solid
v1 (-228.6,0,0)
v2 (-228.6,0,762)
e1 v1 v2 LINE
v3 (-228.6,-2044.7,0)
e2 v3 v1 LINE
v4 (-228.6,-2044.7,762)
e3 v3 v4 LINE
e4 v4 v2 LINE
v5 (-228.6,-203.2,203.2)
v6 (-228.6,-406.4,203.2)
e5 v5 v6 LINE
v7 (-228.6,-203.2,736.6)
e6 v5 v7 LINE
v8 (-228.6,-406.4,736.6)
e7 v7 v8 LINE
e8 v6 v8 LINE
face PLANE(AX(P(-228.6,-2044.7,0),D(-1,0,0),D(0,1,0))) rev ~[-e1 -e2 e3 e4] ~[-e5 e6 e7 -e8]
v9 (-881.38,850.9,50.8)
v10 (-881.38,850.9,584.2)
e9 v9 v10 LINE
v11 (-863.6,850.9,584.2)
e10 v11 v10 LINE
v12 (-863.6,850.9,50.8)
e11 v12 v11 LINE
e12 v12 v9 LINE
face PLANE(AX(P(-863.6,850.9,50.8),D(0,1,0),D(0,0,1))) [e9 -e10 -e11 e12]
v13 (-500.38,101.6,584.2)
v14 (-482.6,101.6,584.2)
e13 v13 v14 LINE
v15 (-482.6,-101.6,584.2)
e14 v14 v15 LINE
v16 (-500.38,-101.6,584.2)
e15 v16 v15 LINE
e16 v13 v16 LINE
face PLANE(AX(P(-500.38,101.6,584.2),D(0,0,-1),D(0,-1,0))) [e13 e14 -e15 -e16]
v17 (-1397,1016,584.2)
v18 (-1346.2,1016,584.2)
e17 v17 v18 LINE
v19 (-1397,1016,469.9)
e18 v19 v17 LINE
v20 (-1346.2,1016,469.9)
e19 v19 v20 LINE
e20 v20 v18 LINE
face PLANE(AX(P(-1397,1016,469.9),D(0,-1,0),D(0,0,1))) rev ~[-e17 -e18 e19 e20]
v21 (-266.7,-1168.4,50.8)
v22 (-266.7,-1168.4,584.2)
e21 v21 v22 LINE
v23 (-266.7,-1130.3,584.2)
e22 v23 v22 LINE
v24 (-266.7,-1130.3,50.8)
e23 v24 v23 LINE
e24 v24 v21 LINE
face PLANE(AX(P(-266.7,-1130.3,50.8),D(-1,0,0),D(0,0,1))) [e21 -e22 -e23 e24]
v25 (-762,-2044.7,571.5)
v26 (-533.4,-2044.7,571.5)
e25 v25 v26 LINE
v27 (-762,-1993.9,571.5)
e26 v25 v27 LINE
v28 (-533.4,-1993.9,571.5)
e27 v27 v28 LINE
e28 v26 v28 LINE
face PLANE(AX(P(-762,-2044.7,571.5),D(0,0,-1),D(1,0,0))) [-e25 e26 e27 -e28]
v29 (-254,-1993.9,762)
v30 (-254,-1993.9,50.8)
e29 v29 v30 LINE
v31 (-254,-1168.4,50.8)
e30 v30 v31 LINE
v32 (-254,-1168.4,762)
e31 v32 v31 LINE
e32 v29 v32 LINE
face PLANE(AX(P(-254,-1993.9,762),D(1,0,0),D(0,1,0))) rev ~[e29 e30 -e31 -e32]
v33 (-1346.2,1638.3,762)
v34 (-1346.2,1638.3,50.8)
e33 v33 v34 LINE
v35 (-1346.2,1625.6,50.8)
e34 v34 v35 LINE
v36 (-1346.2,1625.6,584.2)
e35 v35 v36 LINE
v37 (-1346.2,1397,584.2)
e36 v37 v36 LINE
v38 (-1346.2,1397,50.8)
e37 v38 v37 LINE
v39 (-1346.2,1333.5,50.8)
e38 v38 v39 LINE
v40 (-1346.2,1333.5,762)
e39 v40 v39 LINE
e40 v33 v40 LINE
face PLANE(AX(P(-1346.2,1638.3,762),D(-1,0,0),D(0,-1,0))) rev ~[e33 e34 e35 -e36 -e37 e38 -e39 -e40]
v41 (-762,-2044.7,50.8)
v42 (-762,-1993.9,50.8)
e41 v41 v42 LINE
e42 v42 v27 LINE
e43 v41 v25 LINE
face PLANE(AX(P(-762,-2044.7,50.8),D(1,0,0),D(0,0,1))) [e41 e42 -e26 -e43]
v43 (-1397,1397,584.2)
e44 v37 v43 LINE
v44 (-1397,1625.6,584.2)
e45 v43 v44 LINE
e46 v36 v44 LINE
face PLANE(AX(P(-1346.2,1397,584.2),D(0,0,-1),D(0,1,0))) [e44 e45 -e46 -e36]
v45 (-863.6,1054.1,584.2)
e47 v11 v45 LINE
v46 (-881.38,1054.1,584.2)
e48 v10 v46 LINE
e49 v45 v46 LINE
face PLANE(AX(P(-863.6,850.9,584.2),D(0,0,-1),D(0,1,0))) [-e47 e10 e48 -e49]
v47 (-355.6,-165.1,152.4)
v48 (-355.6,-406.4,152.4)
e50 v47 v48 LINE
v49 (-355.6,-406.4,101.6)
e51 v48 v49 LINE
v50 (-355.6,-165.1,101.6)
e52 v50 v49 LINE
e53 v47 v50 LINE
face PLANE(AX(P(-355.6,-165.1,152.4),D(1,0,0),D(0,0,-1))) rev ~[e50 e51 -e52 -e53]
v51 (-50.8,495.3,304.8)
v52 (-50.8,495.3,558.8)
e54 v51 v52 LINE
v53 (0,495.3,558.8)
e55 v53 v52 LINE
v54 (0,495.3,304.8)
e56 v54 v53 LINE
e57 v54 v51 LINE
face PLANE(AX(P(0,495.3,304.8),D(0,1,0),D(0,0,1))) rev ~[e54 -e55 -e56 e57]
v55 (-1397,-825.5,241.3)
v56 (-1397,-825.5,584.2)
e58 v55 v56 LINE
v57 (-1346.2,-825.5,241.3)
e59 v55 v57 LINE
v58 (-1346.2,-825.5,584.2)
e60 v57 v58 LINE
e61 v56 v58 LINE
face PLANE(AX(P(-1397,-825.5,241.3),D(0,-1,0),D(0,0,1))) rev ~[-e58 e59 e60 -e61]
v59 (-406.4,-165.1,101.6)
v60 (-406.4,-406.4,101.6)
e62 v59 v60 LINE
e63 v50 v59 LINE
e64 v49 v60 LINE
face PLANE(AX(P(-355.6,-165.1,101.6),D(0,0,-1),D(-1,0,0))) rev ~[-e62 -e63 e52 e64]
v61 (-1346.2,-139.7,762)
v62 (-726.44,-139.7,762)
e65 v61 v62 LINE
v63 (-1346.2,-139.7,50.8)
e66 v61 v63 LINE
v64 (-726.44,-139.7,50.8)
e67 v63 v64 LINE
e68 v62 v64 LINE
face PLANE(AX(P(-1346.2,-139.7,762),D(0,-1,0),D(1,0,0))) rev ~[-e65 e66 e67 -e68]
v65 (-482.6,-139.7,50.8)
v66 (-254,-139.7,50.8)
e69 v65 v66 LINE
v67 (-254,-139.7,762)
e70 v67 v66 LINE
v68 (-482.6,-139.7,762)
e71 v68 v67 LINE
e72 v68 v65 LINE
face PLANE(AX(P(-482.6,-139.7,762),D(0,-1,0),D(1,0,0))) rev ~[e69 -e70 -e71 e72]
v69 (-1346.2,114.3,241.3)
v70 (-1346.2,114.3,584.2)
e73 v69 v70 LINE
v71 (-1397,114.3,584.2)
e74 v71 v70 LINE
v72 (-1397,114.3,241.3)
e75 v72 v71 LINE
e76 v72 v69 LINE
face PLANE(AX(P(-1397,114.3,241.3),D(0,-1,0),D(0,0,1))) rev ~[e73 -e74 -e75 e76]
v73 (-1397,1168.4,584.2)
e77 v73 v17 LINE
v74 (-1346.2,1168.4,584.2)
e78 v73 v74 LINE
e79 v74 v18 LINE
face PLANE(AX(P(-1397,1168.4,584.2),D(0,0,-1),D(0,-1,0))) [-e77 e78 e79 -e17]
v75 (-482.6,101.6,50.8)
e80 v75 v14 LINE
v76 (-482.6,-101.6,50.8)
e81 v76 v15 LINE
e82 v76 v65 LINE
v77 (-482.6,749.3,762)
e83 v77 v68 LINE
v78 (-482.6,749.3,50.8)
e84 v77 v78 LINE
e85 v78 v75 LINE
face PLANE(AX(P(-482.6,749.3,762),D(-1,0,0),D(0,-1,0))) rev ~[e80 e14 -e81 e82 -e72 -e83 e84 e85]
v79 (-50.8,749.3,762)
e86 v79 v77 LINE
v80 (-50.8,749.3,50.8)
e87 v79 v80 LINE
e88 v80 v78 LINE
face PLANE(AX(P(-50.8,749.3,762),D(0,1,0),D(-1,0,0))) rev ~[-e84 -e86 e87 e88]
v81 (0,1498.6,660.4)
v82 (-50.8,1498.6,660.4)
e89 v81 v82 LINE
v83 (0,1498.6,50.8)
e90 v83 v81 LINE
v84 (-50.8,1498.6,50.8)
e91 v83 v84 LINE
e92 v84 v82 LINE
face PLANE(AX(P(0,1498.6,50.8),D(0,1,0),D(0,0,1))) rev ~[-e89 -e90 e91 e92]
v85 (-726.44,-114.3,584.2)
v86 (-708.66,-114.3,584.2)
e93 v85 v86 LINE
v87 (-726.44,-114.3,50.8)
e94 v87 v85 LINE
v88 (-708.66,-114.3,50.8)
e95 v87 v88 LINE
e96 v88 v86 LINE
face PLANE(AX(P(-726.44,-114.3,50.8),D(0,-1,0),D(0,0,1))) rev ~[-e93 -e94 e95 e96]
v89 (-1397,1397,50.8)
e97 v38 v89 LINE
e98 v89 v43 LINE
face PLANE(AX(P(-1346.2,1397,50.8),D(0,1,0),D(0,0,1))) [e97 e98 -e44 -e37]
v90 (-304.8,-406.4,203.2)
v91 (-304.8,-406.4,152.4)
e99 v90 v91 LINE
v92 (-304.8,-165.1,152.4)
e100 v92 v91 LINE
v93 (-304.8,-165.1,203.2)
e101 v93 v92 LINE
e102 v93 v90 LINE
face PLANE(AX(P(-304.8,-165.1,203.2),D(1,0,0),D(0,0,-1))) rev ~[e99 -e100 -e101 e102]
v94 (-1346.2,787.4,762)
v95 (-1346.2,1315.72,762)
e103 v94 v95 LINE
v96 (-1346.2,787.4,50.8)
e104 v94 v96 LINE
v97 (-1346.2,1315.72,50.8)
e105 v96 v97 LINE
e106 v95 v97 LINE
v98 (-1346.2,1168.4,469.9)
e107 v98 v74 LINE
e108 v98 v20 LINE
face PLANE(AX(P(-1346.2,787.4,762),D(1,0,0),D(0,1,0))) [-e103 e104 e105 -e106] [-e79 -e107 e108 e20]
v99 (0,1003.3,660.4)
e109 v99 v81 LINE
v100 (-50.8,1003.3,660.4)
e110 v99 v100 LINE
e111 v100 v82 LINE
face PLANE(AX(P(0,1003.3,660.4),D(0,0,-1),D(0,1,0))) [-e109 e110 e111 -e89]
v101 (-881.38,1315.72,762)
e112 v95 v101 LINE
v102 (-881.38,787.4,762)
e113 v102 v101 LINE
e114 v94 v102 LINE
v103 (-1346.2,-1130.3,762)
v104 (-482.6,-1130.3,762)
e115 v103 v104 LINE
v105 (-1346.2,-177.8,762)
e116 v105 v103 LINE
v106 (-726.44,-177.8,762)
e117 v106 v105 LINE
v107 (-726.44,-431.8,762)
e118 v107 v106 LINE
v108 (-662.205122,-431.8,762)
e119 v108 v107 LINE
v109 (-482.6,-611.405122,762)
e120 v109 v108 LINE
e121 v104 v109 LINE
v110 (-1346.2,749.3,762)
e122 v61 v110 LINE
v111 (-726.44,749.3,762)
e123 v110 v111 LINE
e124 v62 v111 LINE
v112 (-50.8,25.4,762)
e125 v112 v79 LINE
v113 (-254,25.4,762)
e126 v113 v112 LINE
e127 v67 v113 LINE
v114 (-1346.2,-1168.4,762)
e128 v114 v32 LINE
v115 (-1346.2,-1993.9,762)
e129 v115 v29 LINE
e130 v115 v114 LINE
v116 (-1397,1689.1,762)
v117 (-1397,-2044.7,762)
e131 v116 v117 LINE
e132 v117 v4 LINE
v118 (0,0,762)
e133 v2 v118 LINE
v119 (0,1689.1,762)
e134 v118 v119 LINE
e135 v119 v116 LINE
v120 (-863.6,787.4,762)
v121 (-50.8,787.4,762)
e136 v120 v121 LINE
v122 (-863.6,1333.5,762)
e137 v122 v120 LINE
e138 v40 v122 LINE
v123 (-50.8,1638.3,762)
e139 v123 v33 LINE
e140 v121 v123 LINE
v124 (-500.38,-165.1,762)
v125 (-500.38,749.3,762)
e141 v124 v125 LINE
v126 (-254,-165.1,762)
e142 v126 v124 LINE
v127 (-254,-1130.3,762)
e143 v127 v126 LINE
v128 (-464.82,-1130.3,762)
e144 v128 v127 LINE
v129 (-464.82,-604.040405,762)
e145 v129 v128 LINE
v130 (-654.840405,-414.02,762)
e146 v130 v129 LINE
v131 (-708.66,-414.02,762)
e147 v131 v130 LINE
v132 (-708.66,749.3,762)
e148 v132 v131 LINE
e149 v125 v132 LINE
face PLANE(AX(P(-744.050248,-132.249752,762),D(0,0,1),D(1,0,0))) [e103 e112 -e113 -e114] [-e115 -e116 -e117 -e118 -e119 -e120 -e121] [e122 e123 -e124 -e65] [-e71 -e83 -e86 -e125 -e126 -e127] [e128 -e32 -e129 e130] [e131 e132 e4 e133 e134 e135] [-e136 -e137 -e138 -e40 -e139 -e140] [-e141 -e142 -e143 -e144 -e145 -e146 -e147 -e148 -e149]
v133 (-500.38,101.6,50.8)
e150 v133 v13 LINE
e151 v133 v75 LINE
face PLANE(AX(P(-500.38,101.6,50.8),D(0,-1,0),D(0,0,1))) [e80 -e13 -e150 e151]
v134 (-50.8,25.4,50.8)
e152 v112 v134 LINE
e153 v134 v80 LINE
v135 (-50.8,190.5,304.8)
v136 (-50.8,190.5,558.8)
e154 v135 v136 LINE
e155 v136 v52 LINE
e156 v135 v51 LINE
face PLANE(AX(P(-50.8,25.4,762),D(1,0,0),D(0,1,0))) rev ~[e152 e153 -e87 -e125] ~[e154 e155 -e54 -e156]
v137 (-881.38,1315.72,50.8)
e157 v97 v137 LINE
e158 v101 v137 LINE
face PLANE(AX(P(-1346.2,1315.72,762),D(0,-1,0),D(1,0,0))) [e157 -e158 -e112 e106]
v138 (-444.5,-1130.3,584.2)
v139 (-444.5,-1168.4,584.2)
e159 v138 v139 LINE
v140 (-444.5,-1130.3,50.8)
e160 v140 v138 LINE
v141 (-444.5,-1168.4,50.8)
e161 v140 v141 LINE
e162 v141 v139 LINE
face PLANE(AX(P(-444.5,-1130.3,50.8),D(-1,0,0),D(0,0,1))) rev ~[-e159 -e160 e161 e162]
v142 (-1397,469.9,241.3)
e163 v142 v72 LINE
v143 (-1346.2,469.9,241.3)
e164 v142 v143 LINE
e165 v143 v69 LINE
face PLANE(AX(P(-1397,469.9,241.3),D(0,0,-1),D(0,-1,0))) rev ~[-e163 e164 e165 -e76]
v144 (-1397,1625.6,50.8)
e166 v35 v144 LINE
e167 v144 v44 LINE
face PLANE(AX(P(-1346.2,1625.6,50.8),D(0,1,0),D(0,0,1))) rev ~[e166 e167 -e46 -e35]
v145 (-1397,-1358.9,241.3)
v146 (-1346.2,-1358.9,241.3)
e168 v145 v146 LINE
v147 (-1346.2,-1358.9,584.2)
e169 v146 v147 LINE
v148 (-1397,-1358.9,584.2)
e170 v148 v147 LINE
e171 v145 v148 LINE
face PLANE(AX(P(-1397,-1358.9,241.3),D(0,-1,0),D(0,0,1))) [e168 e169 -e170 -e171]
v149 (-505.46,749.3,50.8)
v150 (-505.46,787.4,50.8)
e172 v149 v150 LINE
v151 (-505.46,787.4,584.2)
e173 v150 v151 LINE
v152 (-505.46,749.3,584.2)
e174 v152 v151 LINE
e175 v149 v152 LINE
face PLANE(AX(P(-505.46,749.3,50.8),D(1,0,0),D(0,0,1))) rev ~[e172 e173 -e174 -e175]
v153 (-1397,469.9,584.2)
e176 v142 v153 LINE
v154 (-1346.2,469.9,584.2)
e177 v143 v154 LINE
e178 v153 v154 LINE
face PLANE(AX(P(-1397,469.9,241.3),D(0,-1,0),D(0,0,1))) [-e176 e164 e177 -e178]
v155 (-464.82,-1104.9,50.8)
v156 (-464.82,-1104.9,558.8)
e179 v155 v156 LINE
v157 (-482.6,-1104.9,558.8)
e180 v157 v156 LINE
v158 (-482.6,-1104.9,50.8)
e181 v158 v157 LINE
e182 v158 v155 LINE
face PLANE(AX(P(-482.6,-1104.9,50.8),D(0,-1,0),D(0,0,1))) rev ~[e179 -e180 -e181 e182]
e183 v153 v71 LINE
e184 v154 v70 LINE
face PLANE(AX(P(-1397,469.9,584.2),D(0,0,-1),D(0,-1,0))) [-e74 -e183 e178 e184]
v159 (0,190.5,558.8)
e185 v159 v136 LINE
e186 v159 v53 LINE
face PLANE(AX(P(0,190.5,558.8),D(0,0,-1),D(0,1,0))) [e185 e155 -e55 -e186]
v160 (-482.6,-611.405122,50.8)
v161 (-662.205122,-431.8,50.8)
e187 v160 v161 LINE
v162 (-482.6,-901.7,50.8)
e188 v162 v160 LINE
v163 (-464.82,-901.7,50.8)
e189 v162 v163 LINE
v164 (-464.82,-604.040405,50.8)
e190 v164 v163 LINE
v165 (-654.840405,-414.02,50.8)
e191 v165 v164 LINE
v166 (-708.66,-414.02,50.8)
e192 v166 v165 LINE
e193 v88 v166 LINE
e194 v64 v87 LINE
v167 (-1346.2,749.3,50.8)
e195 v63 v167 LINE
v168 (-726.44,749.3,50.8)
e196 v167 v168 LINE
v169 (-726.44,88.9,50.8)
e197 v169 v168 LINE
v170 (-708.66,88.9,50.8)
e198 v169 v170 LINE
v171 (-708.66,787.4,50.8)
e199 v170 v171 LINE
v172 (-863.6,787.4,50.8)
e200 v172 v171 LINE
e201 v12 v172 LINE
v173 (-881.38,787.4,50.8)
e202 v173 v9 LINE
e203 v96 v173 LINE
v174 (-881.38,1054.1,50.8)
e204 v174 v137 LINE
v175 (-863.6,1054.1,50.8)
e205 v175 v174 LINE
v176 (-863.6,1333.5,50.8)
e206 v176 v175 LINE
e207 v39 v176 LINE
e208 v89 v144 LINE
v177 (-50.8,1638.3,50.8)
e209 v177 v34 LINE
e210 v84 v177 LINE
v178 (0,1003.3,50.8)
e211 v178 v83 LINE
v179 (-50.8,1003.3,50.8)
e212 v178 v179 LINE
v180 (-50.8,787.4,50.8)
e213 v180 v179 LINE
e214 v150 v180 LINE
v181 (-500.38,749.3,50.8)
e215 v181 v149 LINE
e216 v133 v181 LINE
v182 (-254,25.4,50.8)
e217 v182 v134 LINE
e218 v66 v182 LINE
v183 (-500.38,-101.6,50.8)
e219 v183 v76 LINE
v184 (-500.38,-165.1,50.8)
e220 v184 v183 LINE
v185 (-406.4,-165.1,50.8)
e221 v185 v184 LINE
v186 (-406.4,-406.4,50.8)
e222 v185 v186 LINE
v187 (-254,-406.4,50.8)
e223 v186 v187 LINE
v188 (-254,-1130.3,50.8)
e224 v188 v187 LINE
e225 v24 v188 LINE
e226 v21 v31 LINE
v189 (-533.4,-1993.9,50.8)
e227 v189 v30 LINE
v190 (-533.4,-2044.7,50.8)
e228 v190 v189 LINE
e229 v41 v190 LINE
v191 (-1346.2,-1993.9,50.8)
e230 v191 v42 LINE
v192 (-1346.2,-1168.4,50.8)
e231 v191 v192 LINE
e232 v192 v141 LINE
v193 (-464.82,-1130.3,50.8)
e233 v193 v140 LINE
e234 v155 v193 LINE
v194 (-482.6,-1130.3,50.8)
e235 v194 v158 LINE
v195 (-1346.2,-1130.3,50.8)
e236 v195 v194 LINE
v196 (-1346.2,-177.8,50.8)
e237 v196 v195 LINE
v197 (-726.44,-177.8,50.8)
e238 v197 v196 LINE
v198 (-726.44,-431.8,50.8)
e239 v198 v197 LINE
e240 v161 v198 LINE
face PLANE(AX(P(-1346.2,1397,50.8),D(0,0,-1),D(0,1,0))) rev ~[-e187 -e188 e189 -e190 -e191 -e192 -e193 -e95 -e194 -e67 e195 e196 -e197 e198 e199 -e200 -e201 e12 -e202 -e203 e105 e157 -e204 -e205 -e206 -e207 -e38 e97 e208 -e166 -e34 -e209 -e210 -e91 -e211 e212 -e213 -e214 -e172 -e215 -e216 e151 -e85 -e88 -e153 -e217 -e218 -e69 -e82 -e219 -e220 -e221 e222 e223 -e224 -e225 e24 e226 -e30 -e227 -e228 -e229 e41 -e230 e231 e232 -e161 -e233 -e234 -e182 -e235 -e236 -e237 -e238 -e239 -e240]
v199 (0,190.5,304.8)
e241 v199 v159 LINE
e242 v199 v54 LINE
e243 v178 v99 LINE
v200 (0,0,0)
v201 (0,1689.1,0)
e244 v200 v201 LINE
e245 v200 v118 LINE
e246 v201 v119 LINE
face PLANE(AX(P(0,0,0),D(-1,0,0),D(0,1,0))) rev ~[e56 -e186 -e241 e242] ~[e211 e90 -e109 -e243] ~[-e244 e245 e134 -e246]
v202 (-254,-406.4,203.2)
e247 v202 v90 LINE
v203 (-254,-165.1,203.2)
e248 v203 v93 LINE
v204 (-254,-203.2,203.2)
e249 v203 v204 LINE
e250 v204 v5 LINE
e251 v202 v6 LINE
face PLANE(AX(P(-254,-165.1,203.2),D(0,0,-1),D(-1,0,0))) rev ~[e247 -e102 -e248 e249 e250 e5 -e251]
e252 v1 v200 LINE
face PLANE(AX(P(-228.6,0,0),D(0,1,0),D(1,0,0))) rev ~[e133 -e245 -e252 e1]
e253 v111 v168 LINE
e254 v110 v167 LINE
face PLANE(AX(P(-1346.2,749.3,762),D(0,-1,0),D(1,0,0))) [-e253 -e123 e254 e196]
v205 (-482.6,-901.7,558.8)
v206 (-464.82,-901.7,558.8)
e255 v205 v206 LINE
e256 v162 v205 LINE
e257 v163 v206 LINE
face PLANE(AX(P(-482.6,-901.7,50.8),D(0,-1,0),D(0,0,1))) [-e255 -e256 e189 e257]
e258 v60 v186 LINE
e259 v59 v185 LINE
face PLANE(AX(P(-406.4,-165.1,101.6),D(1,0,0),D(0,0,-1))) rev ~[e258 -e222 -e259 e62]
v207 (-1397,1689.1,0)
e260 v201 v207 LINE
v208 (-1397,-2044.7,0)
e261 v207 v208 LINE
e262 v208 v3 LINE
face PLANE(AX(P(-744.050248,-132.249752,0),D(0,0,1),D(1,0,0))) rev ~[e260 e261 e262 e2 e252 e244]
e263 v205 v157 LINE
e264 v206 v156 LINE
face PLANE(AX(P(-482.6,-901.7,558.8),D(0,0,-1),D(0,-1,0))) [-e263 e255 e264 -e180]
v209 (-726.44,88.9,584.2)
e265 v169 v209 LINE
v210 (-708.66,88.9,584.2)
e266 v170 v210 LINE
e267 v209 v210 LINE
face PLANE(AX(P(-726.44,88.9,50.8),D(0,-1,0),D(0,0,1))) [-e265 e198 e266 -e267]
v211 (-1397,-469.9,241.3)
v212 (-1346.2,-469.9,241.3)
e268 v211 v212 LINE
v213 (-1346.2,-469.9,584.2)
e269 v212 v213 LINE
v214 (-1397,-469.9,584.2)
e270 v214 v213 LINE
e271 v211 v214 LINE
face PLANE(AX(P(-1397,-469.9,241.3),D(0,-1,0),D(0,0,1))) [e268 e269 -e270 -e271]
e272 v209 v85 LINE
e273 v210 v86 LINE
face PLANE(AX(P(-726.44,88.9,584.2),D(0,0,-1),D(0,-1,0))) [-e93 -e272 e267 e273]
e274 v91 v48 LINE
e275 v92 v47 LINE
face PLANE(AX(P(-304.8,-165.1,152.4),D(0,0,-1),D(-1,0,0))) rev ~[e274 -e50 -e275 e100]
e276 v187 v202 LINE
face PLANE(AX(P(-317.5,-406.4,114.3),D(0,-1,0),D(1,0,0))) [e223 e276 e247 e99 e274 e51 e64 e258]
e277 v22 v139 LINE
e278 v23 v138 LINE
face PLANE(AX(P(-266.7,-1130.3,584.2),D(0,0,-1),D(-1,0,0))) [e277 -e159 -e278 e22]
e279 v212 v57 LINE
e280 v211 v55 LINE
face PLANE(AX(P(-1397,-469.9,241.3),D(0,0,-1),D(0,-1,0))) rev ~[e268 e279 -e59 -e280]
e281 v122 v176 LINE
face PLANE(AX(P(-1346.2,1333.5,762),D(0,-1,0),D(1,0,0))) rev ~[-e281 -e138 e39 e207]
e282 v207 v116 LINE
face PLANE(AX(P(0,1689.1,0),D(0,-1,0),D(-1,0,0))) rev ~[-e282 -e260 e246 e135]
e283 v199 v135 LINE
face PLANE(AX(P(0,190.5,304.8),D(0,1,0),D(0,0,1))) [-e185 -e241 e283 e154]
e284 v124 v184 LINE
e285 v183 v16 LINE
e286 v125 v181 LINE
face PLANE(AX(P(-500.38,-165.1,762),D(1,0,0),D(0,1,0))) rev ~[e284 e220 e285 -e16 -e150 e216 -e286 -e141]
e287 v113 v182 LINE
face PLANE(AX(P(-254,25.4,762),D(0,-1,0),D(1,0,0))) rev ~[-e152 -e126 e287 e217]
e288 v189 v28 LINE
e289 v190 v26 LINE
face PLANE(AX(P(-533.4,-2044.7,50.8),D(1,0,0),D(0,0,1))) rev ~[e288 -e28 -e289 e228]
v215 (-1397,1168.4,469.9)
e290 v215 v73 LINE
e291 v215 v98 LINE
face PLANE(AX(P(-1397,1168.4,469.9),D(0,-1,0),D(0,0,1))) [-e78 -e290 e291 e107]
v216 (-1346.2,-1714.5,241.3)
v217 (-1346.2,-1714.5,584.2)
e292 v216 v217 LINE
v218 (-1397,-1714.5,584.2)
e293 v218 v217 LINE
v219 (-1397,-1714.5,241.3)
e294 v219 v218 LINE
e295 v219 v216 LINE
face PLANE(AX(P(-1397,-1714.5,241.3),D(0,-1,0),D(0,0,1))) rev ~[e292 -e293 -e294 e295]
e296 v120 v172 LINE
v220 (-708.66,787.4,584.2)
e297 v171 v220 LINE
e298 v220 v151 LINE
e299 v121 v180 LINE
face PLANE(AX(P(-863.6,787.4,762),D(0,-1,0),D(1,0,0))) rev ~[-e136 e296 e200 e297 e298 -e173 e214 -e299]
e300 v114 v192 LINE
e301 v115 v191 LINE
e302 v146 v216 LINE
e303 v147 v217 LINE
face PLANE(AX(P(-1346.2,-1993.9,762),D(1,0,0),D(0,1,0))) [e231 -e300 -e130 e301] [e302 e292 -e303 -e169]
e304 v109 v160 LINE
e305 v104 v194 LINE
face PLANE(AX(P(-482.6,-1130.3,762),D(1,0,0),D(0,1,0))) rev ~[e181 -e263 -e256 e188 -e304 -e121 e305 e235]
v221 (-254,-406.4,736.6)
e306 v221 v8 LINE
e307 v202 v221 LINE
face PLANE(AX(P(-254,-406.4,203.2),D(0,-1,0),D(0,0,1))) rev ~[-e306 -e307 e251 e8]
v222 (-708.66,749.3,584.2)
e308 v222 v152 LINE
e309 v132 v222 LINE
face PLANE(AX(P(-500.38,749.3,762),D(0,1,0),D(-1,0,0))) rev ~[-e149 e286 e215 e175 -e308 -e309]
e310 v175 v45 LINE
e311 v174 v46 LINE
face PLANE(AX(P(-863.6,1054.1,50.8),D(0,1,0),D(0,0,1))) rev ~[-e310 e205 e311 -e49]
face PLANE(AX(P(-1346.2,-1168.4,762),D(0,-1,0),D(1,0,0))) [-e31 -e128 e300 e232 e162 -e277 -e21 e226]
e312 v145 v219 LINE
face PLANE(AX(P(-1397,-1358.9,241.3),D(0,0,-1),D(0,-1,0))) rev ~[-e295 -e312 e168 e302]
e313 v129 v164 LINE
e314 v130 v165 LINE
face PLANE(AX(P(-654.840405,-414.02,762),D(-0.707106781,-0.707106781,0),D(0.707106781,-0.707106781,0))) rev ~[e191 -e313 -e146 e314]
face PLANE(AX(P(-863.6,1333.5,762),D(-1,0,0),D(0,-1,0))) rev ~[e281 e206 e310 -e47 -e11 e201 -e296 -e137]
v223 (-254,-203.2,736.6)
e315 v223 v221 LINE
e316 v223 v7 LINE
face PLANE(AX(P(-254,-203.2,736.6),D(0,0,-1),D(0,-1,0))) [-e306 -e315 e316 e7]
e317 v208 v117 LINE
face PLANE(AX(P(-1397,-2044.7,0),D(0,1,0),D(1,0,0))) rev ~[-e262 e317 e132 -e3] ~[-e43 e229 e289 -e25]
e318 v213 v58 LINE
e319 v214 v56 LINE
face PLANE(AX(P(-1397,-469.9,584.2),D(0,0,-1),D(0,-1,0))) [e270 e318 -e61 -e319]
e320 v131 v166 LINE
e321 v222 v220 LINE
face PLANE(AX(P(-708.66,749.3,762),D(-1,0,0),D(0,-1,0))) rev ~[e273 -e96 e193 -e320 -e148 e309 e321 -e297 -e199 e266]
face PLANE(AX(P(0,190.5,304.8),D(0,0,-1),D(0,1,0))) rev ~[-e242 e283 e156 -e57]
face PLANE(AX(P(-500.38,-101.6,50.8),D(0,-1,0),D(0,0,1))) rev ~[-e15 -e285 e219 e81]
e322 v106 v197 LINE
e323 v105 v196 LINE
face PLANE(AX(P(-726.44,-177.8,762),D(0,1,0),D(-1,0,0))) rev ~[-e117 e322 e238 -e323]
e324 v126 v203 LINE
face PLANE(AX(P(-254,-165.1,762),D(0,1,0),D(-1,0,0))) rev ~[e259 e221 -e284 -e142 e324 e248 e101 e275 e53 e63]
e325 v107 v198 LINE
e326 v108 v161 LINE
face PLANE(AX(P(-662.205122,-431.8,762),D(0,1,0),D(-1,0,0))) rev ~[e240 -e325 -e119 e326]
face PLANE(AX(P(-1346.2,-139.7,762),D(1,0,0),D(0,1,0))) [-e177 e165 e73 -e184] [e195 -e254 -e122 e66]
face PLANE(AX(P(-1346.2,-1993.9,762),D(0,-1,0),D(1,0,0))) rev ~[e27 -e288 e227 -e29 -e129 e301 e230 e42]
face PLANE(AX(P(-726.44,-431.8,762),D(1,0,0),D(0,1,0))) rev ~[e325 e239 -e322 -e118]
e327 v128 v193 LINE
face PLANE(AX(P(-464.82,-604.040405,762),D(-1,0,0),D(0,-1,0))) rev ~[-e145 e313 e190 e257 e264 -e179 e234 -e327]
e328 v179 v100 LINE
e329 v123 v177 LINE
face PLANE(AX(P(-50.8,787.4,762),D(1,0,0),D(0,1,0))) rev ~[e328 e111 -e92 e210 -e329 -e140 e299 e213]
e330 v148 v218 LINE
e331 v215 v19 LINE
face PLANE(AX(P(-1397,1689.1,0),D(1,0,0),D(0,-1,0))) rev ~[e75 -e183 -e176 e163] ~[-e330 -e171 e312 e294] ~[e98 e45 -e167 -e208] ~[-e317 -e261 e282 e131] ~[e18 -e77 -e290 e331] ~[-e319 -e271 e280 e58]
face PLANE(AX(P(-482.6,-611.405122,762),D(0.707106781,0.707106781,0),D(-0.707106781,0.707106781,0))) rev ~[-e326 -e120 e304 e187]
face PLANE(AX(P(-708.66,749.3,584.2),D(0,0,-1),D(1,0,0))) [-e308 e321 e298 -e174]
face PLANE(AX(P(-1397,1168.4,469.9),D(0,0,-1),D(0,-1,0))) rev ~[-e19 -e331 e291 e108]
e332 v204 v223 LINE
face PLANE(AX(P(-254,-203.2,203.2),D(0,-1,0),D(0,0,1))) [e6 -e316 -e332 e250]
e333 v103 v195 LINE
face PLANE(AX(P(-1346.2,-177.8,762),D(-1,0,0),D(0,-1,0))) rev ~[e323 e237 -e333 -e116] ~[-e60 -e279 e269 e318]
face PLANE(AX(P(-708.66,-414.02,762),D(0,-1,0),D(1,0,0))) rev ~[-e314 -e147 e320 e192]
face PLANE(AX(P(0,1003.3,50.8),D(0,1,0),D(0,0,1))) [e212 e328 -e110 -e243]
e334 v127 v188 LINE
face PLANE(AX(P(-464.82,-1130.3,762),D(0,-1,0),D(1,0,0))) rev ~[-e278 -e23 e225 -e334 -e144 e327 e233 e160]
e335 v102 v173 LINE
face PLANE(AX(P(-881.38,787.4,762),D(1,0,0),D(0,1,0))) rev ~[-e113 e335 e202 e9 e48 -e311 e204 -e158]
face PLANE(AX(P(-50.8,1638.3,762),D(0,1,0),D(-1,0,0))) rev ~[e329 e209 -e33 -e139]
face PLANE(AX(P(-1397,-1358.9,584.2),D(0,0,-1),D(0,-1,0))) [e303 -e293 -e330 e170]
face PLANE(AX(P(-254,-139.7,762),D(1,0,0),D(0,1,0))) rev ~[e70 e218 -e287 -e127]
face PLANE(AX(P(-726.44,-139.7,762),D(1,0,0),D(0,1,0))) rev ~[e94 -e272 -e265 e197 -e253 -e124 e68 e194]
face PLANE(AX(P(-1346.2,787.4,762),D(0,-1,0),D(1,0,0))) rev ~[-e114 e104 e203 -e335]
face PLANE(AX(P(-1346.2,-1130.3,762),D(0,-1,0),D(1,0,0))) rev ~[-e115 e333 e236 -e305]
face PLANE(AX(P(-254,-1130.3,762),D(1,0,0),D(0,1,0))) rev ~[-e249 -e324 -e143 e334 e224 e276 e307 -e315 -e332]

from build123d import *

# Parameters (mm, degrees)
F1_DEPTH  = 762
F3_DEPTH  = 711.2
F4_W      = 464.82
F4_H      = 528.32
F5_DEPTH  = 711.2
F6_W      = 619.76
F6_H      = 889
F7_DEPTH  = 711.2
F8_W      = 1092.2
F8_H      = 825.5
F9_DEPTH  = 711.2
F11_DEPTH = 711.2
F13_DEPTH = 711.2
F15_DEPTH = 711.2
F16_W     = 203.2
F16_H     = 533.4
F17_DEPTH = 25.4
F18_W     = 203.2
F18_H     = 508
F19_DEPTH = 17.78
F20_W     = 203.2
F20_H     = 533.4
F21_DEPTH = 17.78
F22_W     = 177.8
F22_H     = 533.4
F23_DEPTH = 38.1
F24_W     = 203.2
F24_H     = 533.4
F25_DEPTH = 38.1
F26_W     = 203.2
F26_H     = 533.4
F27_DEPTH = 17.78
F28_W     = 228.6
F28_H     = 533.4
F29_DEPTH = 50.8
F30_W     = 355.6
F30_H     = 342.9
F30_W_2   = 152.4
F30_H_2   = 114.3
F31_DEPTH = 50.8
F32_W     = 304.8
F32_H     = 254
F32_W_2   = 495.3
F32_H_2   = 609.6
F33_DEPTH = 50.8
F34_W     = 228.6
F34_H     = 520.7
F35_DEPTH = 50.8
F37_DEPTH = 241.3
F38_W     = 203.2
F38_H     = 533.4
F39_DEPTH = 17.78


with BuildPart() as f1:
    # F0 (on Top) → F1 (new body)
    with BuildSketch(Plane.XY):
        Polygon((-1397, 1689.1), (-1397, -2044.7), (-228.6, -2044.7), (-228.6, 0), (0, 0), (0, 1689.1), align=None)
    extrude(amount=F1_DEPTH)

    # F2 (on face) → F3 (cut)
    with BuildSketch(Plane.XY.offset(762)):
        Polygon((-50.8, 1638.3), (-1346.2, 1638.3), (-1346.2, 1333.5), (-863.6, 1333.5), (-863.6, 787.4), (-50.8, 787.4), align=None)
    extrude(amount=-F3_DEPTH, mode=Mode.SUBTRACT)

    # F4 (on face) → F5 (cut)
    with BuildSketch(Plane.XY.offset(762)):
        with Locations((-1113.79, 1051.56)):
            Rectangle(F4_W, F4_H)
    extrude(amount=-F5_DEPTH, mode=Mode.SUBTRACT)

    # F6 (on face) → F7 (cut)
    with BuildSketch(Plane.XY.offset(762)):
        with Locations((-1036.32, 304.8)):
            Rectangle(F6_W, F6_H)
    extrude(amount=-F7_DEPTH, mode=Mode.SUBTRACT)

    # F8 (on face) → F9 (cut)
    with BuildSketch(Plane.XY.offset(762)):
        with Locations((-800.1, -1581.15)):
            Rectangle(F8_W, F8_H)
    extrude(amount=-F9_DEPTH, mode=Mode.SUBTRACT)

    # F10 (on face) → F11 (cut)
    with BuildSketch(Plane.XY.offset(762)):
        Polygon((-726.44, -177.8), (-1346.2, -177.8), (-1346.2, -1130.3), (-482.6, -1130.3), (-482.6, -611.405122), (-662.205122, -431.8), (-726.44, -431.8), align=None)
    extrude(amount=-F11_DEPTH, mode=Mode.SUBTRACT)

    # F12 (on face) → F13 (cut)
    with BuildSketch(Plane.XY.offset(762)):
        Polygon((-50.8, 749.3), (-482.6, 749.3), (-482.6, -139.7), (-254, -139.7), (-254, 25.4), (-50.8, 25.4), align=None)
    extrude(amount=-F13_DEPTH, mode=Mode.SUBTRACT)

    # F14 (on face) → F15 (cut)
    with BuildSketch(Plane.XY.offset(762)):
        Polygon((-500.38, 749.3), (-708.66, 749.3), (-708.66, -414.02), (-654.840405, -414.02), (-464.82, -604.040405), (-464.82, -1130.3), (-254, -1130.3), (-254, -165.1), (-500.38, -165.1), align=None)
    extrude(amount=-F15_DEPTH, mode=Mode.SUBTRACT)

    # F16 (on face) → F17 (cut, through all)
    with BuildSketch(Plane(origin=(-254, 0, 0), x_dir=(0, -1, 0), z_dir=(-1, 0, 0))):
        with Locations((304.8, 469.9)):
            Rectangle(F16_W, F16_H)
    extrude(amount=-F17_DEPTH, mode=Mode.SUBTRACT)

    # F18 (on face) → F19 (cut, through all)
    with BuildSketch(Plane(origin=(-482.6, 0, 0), x_dir=(0, -1, 0), z_dir=(-1, 0, 0))):
        with Locations((1003.3, 304.8)):
            Rectangle(F18_W, F18_H)
    extrude(amount=-F19_DEPTH, mode=Mode.SUBTRACT)

    # F20 (on face) → F21 (cut, through all)
    with BuildSketch(Plane(origin=(-726.44, 0, 0), x_dir=(0, -1, 0), z_dir=(-1, 0, 0))):
        with Locations((12.7, 317.5)):
            Rectangle(F20_W, F20_H)
    extrude(amount=-F21_DEPTH, mode=Mode.SUBTRACT)

    # F22 (on face) → F23 (cut, through all)
    with BuildSketch(Plane(origin=(0, -1130.3, 0), x_dir=(-1, 0, 0), z_dir=(0, 1, 0))):
        with Locations((355.6, 317.5)):
            Rectangle(F22_W, F22_H)
    extrude(amount=-F23_DEPTH, mode=Mode.SUBTRACT)

    # F24 (on face) → F25 (cut, through all)
    with BuildSketch(Plane.XZ.offset(-749.3)):
        with Locations((-607.06, 317.5)):
            Rectangle(F24_W, F24_H)
    extrude(amount=-F25_DEPTH, mode=Mode.SUBTRACT)

    # F26 (on face) → F27 (cut, through all)
    with BuildSketch(Plane.YZ.offset(-863.6)):
        with Locations((952.5, 317.5)):
            Rectangle(F26_W, F26_H)
    extrude(amount=-F27_DEPTH, mode=Mode.SUBTRACT)

    # F28 (on face) → F29 (cut, through all)
    with BuildSketch(Plane.YZ.offset(-1346.2)):
        with Locations((1511.3, 317.5)):
            Rectangle(F28_W, F28_H)
    extrude(amount=-F29_DEPTH, mode=Mode.SUBTRACT)

    # F30 (on face) → F31 (cut, through all)
    with BuildSketch(Plane(origin=(-1397, 0, 0), x_dir=(0, -1, 0), z_dir=(-1, 0, 0))):
        with Locations((1536.7, 412.75)):
            Rectangle(F30_W, F30_H)
        with Locations((647.7, 412.75)):
            Rectangle(F30_W, F30_H)
        with Locations((-292.1, 412.75)):
            Rectangle(F30_W, F30_H)
        with Locations((-1092.2, 527.05)):
            Rectangle(F30_W_2, F30_H_2)
    extrude(amount=-F31_DEPTH, mode=Mode.SUBTRACT)

    # F32 (on face) → F33 (cut, through all)
    with BuildSketch(Plane.YZ):
        with Locations((342.9, 431.8)):
            Rectangle(F32_W, F32_H)
        with Locations((1250.95, 355.6)):
            Rectangle(F32_W_2, F32_H_2)
    extrude(amount=-F33_DEPTH, mode=Mode.SUBTRACT)

    # F34 (on face) → F35 (cut, through all)
    with BuildSketch(Plane.XZ.offset(2044.7)):
        with Locations((-647.7, 311.15)):
            Rectangle(F34_W, F34_H)
    extrude(amount=-F35_DEPTH, mode=Mode.SUBTRACT)

    # F36 (on face) → F37 (join, through all)
    with BuildSketch(Plane.XZ.offset(165.1)):
        Polygon((-406.4, 50.8), (-254, 50.8), (-254, 203.2), (-304.8, 203.2), (-304.8, 152.4), (-355.6, 152.4), (-355.6, 101.6), (-406.4, 101.6), align=None)
    extrude(amount=F37_DEPTH)

    # F38 (on face) → F39 (cut, through all)
    with BuildSketch(Plane(origin=(-500.38, 0, 0), x_dir=(0, -1, 0), z_dir=(-1, 0, 0))):
        with Locations((0, 317.5)):
            Rectangle(F38_W, F38_H)
    extrude(amount=-F39_DEPTH, mode=Mode.SUBTRACT)


solid = f1.part
